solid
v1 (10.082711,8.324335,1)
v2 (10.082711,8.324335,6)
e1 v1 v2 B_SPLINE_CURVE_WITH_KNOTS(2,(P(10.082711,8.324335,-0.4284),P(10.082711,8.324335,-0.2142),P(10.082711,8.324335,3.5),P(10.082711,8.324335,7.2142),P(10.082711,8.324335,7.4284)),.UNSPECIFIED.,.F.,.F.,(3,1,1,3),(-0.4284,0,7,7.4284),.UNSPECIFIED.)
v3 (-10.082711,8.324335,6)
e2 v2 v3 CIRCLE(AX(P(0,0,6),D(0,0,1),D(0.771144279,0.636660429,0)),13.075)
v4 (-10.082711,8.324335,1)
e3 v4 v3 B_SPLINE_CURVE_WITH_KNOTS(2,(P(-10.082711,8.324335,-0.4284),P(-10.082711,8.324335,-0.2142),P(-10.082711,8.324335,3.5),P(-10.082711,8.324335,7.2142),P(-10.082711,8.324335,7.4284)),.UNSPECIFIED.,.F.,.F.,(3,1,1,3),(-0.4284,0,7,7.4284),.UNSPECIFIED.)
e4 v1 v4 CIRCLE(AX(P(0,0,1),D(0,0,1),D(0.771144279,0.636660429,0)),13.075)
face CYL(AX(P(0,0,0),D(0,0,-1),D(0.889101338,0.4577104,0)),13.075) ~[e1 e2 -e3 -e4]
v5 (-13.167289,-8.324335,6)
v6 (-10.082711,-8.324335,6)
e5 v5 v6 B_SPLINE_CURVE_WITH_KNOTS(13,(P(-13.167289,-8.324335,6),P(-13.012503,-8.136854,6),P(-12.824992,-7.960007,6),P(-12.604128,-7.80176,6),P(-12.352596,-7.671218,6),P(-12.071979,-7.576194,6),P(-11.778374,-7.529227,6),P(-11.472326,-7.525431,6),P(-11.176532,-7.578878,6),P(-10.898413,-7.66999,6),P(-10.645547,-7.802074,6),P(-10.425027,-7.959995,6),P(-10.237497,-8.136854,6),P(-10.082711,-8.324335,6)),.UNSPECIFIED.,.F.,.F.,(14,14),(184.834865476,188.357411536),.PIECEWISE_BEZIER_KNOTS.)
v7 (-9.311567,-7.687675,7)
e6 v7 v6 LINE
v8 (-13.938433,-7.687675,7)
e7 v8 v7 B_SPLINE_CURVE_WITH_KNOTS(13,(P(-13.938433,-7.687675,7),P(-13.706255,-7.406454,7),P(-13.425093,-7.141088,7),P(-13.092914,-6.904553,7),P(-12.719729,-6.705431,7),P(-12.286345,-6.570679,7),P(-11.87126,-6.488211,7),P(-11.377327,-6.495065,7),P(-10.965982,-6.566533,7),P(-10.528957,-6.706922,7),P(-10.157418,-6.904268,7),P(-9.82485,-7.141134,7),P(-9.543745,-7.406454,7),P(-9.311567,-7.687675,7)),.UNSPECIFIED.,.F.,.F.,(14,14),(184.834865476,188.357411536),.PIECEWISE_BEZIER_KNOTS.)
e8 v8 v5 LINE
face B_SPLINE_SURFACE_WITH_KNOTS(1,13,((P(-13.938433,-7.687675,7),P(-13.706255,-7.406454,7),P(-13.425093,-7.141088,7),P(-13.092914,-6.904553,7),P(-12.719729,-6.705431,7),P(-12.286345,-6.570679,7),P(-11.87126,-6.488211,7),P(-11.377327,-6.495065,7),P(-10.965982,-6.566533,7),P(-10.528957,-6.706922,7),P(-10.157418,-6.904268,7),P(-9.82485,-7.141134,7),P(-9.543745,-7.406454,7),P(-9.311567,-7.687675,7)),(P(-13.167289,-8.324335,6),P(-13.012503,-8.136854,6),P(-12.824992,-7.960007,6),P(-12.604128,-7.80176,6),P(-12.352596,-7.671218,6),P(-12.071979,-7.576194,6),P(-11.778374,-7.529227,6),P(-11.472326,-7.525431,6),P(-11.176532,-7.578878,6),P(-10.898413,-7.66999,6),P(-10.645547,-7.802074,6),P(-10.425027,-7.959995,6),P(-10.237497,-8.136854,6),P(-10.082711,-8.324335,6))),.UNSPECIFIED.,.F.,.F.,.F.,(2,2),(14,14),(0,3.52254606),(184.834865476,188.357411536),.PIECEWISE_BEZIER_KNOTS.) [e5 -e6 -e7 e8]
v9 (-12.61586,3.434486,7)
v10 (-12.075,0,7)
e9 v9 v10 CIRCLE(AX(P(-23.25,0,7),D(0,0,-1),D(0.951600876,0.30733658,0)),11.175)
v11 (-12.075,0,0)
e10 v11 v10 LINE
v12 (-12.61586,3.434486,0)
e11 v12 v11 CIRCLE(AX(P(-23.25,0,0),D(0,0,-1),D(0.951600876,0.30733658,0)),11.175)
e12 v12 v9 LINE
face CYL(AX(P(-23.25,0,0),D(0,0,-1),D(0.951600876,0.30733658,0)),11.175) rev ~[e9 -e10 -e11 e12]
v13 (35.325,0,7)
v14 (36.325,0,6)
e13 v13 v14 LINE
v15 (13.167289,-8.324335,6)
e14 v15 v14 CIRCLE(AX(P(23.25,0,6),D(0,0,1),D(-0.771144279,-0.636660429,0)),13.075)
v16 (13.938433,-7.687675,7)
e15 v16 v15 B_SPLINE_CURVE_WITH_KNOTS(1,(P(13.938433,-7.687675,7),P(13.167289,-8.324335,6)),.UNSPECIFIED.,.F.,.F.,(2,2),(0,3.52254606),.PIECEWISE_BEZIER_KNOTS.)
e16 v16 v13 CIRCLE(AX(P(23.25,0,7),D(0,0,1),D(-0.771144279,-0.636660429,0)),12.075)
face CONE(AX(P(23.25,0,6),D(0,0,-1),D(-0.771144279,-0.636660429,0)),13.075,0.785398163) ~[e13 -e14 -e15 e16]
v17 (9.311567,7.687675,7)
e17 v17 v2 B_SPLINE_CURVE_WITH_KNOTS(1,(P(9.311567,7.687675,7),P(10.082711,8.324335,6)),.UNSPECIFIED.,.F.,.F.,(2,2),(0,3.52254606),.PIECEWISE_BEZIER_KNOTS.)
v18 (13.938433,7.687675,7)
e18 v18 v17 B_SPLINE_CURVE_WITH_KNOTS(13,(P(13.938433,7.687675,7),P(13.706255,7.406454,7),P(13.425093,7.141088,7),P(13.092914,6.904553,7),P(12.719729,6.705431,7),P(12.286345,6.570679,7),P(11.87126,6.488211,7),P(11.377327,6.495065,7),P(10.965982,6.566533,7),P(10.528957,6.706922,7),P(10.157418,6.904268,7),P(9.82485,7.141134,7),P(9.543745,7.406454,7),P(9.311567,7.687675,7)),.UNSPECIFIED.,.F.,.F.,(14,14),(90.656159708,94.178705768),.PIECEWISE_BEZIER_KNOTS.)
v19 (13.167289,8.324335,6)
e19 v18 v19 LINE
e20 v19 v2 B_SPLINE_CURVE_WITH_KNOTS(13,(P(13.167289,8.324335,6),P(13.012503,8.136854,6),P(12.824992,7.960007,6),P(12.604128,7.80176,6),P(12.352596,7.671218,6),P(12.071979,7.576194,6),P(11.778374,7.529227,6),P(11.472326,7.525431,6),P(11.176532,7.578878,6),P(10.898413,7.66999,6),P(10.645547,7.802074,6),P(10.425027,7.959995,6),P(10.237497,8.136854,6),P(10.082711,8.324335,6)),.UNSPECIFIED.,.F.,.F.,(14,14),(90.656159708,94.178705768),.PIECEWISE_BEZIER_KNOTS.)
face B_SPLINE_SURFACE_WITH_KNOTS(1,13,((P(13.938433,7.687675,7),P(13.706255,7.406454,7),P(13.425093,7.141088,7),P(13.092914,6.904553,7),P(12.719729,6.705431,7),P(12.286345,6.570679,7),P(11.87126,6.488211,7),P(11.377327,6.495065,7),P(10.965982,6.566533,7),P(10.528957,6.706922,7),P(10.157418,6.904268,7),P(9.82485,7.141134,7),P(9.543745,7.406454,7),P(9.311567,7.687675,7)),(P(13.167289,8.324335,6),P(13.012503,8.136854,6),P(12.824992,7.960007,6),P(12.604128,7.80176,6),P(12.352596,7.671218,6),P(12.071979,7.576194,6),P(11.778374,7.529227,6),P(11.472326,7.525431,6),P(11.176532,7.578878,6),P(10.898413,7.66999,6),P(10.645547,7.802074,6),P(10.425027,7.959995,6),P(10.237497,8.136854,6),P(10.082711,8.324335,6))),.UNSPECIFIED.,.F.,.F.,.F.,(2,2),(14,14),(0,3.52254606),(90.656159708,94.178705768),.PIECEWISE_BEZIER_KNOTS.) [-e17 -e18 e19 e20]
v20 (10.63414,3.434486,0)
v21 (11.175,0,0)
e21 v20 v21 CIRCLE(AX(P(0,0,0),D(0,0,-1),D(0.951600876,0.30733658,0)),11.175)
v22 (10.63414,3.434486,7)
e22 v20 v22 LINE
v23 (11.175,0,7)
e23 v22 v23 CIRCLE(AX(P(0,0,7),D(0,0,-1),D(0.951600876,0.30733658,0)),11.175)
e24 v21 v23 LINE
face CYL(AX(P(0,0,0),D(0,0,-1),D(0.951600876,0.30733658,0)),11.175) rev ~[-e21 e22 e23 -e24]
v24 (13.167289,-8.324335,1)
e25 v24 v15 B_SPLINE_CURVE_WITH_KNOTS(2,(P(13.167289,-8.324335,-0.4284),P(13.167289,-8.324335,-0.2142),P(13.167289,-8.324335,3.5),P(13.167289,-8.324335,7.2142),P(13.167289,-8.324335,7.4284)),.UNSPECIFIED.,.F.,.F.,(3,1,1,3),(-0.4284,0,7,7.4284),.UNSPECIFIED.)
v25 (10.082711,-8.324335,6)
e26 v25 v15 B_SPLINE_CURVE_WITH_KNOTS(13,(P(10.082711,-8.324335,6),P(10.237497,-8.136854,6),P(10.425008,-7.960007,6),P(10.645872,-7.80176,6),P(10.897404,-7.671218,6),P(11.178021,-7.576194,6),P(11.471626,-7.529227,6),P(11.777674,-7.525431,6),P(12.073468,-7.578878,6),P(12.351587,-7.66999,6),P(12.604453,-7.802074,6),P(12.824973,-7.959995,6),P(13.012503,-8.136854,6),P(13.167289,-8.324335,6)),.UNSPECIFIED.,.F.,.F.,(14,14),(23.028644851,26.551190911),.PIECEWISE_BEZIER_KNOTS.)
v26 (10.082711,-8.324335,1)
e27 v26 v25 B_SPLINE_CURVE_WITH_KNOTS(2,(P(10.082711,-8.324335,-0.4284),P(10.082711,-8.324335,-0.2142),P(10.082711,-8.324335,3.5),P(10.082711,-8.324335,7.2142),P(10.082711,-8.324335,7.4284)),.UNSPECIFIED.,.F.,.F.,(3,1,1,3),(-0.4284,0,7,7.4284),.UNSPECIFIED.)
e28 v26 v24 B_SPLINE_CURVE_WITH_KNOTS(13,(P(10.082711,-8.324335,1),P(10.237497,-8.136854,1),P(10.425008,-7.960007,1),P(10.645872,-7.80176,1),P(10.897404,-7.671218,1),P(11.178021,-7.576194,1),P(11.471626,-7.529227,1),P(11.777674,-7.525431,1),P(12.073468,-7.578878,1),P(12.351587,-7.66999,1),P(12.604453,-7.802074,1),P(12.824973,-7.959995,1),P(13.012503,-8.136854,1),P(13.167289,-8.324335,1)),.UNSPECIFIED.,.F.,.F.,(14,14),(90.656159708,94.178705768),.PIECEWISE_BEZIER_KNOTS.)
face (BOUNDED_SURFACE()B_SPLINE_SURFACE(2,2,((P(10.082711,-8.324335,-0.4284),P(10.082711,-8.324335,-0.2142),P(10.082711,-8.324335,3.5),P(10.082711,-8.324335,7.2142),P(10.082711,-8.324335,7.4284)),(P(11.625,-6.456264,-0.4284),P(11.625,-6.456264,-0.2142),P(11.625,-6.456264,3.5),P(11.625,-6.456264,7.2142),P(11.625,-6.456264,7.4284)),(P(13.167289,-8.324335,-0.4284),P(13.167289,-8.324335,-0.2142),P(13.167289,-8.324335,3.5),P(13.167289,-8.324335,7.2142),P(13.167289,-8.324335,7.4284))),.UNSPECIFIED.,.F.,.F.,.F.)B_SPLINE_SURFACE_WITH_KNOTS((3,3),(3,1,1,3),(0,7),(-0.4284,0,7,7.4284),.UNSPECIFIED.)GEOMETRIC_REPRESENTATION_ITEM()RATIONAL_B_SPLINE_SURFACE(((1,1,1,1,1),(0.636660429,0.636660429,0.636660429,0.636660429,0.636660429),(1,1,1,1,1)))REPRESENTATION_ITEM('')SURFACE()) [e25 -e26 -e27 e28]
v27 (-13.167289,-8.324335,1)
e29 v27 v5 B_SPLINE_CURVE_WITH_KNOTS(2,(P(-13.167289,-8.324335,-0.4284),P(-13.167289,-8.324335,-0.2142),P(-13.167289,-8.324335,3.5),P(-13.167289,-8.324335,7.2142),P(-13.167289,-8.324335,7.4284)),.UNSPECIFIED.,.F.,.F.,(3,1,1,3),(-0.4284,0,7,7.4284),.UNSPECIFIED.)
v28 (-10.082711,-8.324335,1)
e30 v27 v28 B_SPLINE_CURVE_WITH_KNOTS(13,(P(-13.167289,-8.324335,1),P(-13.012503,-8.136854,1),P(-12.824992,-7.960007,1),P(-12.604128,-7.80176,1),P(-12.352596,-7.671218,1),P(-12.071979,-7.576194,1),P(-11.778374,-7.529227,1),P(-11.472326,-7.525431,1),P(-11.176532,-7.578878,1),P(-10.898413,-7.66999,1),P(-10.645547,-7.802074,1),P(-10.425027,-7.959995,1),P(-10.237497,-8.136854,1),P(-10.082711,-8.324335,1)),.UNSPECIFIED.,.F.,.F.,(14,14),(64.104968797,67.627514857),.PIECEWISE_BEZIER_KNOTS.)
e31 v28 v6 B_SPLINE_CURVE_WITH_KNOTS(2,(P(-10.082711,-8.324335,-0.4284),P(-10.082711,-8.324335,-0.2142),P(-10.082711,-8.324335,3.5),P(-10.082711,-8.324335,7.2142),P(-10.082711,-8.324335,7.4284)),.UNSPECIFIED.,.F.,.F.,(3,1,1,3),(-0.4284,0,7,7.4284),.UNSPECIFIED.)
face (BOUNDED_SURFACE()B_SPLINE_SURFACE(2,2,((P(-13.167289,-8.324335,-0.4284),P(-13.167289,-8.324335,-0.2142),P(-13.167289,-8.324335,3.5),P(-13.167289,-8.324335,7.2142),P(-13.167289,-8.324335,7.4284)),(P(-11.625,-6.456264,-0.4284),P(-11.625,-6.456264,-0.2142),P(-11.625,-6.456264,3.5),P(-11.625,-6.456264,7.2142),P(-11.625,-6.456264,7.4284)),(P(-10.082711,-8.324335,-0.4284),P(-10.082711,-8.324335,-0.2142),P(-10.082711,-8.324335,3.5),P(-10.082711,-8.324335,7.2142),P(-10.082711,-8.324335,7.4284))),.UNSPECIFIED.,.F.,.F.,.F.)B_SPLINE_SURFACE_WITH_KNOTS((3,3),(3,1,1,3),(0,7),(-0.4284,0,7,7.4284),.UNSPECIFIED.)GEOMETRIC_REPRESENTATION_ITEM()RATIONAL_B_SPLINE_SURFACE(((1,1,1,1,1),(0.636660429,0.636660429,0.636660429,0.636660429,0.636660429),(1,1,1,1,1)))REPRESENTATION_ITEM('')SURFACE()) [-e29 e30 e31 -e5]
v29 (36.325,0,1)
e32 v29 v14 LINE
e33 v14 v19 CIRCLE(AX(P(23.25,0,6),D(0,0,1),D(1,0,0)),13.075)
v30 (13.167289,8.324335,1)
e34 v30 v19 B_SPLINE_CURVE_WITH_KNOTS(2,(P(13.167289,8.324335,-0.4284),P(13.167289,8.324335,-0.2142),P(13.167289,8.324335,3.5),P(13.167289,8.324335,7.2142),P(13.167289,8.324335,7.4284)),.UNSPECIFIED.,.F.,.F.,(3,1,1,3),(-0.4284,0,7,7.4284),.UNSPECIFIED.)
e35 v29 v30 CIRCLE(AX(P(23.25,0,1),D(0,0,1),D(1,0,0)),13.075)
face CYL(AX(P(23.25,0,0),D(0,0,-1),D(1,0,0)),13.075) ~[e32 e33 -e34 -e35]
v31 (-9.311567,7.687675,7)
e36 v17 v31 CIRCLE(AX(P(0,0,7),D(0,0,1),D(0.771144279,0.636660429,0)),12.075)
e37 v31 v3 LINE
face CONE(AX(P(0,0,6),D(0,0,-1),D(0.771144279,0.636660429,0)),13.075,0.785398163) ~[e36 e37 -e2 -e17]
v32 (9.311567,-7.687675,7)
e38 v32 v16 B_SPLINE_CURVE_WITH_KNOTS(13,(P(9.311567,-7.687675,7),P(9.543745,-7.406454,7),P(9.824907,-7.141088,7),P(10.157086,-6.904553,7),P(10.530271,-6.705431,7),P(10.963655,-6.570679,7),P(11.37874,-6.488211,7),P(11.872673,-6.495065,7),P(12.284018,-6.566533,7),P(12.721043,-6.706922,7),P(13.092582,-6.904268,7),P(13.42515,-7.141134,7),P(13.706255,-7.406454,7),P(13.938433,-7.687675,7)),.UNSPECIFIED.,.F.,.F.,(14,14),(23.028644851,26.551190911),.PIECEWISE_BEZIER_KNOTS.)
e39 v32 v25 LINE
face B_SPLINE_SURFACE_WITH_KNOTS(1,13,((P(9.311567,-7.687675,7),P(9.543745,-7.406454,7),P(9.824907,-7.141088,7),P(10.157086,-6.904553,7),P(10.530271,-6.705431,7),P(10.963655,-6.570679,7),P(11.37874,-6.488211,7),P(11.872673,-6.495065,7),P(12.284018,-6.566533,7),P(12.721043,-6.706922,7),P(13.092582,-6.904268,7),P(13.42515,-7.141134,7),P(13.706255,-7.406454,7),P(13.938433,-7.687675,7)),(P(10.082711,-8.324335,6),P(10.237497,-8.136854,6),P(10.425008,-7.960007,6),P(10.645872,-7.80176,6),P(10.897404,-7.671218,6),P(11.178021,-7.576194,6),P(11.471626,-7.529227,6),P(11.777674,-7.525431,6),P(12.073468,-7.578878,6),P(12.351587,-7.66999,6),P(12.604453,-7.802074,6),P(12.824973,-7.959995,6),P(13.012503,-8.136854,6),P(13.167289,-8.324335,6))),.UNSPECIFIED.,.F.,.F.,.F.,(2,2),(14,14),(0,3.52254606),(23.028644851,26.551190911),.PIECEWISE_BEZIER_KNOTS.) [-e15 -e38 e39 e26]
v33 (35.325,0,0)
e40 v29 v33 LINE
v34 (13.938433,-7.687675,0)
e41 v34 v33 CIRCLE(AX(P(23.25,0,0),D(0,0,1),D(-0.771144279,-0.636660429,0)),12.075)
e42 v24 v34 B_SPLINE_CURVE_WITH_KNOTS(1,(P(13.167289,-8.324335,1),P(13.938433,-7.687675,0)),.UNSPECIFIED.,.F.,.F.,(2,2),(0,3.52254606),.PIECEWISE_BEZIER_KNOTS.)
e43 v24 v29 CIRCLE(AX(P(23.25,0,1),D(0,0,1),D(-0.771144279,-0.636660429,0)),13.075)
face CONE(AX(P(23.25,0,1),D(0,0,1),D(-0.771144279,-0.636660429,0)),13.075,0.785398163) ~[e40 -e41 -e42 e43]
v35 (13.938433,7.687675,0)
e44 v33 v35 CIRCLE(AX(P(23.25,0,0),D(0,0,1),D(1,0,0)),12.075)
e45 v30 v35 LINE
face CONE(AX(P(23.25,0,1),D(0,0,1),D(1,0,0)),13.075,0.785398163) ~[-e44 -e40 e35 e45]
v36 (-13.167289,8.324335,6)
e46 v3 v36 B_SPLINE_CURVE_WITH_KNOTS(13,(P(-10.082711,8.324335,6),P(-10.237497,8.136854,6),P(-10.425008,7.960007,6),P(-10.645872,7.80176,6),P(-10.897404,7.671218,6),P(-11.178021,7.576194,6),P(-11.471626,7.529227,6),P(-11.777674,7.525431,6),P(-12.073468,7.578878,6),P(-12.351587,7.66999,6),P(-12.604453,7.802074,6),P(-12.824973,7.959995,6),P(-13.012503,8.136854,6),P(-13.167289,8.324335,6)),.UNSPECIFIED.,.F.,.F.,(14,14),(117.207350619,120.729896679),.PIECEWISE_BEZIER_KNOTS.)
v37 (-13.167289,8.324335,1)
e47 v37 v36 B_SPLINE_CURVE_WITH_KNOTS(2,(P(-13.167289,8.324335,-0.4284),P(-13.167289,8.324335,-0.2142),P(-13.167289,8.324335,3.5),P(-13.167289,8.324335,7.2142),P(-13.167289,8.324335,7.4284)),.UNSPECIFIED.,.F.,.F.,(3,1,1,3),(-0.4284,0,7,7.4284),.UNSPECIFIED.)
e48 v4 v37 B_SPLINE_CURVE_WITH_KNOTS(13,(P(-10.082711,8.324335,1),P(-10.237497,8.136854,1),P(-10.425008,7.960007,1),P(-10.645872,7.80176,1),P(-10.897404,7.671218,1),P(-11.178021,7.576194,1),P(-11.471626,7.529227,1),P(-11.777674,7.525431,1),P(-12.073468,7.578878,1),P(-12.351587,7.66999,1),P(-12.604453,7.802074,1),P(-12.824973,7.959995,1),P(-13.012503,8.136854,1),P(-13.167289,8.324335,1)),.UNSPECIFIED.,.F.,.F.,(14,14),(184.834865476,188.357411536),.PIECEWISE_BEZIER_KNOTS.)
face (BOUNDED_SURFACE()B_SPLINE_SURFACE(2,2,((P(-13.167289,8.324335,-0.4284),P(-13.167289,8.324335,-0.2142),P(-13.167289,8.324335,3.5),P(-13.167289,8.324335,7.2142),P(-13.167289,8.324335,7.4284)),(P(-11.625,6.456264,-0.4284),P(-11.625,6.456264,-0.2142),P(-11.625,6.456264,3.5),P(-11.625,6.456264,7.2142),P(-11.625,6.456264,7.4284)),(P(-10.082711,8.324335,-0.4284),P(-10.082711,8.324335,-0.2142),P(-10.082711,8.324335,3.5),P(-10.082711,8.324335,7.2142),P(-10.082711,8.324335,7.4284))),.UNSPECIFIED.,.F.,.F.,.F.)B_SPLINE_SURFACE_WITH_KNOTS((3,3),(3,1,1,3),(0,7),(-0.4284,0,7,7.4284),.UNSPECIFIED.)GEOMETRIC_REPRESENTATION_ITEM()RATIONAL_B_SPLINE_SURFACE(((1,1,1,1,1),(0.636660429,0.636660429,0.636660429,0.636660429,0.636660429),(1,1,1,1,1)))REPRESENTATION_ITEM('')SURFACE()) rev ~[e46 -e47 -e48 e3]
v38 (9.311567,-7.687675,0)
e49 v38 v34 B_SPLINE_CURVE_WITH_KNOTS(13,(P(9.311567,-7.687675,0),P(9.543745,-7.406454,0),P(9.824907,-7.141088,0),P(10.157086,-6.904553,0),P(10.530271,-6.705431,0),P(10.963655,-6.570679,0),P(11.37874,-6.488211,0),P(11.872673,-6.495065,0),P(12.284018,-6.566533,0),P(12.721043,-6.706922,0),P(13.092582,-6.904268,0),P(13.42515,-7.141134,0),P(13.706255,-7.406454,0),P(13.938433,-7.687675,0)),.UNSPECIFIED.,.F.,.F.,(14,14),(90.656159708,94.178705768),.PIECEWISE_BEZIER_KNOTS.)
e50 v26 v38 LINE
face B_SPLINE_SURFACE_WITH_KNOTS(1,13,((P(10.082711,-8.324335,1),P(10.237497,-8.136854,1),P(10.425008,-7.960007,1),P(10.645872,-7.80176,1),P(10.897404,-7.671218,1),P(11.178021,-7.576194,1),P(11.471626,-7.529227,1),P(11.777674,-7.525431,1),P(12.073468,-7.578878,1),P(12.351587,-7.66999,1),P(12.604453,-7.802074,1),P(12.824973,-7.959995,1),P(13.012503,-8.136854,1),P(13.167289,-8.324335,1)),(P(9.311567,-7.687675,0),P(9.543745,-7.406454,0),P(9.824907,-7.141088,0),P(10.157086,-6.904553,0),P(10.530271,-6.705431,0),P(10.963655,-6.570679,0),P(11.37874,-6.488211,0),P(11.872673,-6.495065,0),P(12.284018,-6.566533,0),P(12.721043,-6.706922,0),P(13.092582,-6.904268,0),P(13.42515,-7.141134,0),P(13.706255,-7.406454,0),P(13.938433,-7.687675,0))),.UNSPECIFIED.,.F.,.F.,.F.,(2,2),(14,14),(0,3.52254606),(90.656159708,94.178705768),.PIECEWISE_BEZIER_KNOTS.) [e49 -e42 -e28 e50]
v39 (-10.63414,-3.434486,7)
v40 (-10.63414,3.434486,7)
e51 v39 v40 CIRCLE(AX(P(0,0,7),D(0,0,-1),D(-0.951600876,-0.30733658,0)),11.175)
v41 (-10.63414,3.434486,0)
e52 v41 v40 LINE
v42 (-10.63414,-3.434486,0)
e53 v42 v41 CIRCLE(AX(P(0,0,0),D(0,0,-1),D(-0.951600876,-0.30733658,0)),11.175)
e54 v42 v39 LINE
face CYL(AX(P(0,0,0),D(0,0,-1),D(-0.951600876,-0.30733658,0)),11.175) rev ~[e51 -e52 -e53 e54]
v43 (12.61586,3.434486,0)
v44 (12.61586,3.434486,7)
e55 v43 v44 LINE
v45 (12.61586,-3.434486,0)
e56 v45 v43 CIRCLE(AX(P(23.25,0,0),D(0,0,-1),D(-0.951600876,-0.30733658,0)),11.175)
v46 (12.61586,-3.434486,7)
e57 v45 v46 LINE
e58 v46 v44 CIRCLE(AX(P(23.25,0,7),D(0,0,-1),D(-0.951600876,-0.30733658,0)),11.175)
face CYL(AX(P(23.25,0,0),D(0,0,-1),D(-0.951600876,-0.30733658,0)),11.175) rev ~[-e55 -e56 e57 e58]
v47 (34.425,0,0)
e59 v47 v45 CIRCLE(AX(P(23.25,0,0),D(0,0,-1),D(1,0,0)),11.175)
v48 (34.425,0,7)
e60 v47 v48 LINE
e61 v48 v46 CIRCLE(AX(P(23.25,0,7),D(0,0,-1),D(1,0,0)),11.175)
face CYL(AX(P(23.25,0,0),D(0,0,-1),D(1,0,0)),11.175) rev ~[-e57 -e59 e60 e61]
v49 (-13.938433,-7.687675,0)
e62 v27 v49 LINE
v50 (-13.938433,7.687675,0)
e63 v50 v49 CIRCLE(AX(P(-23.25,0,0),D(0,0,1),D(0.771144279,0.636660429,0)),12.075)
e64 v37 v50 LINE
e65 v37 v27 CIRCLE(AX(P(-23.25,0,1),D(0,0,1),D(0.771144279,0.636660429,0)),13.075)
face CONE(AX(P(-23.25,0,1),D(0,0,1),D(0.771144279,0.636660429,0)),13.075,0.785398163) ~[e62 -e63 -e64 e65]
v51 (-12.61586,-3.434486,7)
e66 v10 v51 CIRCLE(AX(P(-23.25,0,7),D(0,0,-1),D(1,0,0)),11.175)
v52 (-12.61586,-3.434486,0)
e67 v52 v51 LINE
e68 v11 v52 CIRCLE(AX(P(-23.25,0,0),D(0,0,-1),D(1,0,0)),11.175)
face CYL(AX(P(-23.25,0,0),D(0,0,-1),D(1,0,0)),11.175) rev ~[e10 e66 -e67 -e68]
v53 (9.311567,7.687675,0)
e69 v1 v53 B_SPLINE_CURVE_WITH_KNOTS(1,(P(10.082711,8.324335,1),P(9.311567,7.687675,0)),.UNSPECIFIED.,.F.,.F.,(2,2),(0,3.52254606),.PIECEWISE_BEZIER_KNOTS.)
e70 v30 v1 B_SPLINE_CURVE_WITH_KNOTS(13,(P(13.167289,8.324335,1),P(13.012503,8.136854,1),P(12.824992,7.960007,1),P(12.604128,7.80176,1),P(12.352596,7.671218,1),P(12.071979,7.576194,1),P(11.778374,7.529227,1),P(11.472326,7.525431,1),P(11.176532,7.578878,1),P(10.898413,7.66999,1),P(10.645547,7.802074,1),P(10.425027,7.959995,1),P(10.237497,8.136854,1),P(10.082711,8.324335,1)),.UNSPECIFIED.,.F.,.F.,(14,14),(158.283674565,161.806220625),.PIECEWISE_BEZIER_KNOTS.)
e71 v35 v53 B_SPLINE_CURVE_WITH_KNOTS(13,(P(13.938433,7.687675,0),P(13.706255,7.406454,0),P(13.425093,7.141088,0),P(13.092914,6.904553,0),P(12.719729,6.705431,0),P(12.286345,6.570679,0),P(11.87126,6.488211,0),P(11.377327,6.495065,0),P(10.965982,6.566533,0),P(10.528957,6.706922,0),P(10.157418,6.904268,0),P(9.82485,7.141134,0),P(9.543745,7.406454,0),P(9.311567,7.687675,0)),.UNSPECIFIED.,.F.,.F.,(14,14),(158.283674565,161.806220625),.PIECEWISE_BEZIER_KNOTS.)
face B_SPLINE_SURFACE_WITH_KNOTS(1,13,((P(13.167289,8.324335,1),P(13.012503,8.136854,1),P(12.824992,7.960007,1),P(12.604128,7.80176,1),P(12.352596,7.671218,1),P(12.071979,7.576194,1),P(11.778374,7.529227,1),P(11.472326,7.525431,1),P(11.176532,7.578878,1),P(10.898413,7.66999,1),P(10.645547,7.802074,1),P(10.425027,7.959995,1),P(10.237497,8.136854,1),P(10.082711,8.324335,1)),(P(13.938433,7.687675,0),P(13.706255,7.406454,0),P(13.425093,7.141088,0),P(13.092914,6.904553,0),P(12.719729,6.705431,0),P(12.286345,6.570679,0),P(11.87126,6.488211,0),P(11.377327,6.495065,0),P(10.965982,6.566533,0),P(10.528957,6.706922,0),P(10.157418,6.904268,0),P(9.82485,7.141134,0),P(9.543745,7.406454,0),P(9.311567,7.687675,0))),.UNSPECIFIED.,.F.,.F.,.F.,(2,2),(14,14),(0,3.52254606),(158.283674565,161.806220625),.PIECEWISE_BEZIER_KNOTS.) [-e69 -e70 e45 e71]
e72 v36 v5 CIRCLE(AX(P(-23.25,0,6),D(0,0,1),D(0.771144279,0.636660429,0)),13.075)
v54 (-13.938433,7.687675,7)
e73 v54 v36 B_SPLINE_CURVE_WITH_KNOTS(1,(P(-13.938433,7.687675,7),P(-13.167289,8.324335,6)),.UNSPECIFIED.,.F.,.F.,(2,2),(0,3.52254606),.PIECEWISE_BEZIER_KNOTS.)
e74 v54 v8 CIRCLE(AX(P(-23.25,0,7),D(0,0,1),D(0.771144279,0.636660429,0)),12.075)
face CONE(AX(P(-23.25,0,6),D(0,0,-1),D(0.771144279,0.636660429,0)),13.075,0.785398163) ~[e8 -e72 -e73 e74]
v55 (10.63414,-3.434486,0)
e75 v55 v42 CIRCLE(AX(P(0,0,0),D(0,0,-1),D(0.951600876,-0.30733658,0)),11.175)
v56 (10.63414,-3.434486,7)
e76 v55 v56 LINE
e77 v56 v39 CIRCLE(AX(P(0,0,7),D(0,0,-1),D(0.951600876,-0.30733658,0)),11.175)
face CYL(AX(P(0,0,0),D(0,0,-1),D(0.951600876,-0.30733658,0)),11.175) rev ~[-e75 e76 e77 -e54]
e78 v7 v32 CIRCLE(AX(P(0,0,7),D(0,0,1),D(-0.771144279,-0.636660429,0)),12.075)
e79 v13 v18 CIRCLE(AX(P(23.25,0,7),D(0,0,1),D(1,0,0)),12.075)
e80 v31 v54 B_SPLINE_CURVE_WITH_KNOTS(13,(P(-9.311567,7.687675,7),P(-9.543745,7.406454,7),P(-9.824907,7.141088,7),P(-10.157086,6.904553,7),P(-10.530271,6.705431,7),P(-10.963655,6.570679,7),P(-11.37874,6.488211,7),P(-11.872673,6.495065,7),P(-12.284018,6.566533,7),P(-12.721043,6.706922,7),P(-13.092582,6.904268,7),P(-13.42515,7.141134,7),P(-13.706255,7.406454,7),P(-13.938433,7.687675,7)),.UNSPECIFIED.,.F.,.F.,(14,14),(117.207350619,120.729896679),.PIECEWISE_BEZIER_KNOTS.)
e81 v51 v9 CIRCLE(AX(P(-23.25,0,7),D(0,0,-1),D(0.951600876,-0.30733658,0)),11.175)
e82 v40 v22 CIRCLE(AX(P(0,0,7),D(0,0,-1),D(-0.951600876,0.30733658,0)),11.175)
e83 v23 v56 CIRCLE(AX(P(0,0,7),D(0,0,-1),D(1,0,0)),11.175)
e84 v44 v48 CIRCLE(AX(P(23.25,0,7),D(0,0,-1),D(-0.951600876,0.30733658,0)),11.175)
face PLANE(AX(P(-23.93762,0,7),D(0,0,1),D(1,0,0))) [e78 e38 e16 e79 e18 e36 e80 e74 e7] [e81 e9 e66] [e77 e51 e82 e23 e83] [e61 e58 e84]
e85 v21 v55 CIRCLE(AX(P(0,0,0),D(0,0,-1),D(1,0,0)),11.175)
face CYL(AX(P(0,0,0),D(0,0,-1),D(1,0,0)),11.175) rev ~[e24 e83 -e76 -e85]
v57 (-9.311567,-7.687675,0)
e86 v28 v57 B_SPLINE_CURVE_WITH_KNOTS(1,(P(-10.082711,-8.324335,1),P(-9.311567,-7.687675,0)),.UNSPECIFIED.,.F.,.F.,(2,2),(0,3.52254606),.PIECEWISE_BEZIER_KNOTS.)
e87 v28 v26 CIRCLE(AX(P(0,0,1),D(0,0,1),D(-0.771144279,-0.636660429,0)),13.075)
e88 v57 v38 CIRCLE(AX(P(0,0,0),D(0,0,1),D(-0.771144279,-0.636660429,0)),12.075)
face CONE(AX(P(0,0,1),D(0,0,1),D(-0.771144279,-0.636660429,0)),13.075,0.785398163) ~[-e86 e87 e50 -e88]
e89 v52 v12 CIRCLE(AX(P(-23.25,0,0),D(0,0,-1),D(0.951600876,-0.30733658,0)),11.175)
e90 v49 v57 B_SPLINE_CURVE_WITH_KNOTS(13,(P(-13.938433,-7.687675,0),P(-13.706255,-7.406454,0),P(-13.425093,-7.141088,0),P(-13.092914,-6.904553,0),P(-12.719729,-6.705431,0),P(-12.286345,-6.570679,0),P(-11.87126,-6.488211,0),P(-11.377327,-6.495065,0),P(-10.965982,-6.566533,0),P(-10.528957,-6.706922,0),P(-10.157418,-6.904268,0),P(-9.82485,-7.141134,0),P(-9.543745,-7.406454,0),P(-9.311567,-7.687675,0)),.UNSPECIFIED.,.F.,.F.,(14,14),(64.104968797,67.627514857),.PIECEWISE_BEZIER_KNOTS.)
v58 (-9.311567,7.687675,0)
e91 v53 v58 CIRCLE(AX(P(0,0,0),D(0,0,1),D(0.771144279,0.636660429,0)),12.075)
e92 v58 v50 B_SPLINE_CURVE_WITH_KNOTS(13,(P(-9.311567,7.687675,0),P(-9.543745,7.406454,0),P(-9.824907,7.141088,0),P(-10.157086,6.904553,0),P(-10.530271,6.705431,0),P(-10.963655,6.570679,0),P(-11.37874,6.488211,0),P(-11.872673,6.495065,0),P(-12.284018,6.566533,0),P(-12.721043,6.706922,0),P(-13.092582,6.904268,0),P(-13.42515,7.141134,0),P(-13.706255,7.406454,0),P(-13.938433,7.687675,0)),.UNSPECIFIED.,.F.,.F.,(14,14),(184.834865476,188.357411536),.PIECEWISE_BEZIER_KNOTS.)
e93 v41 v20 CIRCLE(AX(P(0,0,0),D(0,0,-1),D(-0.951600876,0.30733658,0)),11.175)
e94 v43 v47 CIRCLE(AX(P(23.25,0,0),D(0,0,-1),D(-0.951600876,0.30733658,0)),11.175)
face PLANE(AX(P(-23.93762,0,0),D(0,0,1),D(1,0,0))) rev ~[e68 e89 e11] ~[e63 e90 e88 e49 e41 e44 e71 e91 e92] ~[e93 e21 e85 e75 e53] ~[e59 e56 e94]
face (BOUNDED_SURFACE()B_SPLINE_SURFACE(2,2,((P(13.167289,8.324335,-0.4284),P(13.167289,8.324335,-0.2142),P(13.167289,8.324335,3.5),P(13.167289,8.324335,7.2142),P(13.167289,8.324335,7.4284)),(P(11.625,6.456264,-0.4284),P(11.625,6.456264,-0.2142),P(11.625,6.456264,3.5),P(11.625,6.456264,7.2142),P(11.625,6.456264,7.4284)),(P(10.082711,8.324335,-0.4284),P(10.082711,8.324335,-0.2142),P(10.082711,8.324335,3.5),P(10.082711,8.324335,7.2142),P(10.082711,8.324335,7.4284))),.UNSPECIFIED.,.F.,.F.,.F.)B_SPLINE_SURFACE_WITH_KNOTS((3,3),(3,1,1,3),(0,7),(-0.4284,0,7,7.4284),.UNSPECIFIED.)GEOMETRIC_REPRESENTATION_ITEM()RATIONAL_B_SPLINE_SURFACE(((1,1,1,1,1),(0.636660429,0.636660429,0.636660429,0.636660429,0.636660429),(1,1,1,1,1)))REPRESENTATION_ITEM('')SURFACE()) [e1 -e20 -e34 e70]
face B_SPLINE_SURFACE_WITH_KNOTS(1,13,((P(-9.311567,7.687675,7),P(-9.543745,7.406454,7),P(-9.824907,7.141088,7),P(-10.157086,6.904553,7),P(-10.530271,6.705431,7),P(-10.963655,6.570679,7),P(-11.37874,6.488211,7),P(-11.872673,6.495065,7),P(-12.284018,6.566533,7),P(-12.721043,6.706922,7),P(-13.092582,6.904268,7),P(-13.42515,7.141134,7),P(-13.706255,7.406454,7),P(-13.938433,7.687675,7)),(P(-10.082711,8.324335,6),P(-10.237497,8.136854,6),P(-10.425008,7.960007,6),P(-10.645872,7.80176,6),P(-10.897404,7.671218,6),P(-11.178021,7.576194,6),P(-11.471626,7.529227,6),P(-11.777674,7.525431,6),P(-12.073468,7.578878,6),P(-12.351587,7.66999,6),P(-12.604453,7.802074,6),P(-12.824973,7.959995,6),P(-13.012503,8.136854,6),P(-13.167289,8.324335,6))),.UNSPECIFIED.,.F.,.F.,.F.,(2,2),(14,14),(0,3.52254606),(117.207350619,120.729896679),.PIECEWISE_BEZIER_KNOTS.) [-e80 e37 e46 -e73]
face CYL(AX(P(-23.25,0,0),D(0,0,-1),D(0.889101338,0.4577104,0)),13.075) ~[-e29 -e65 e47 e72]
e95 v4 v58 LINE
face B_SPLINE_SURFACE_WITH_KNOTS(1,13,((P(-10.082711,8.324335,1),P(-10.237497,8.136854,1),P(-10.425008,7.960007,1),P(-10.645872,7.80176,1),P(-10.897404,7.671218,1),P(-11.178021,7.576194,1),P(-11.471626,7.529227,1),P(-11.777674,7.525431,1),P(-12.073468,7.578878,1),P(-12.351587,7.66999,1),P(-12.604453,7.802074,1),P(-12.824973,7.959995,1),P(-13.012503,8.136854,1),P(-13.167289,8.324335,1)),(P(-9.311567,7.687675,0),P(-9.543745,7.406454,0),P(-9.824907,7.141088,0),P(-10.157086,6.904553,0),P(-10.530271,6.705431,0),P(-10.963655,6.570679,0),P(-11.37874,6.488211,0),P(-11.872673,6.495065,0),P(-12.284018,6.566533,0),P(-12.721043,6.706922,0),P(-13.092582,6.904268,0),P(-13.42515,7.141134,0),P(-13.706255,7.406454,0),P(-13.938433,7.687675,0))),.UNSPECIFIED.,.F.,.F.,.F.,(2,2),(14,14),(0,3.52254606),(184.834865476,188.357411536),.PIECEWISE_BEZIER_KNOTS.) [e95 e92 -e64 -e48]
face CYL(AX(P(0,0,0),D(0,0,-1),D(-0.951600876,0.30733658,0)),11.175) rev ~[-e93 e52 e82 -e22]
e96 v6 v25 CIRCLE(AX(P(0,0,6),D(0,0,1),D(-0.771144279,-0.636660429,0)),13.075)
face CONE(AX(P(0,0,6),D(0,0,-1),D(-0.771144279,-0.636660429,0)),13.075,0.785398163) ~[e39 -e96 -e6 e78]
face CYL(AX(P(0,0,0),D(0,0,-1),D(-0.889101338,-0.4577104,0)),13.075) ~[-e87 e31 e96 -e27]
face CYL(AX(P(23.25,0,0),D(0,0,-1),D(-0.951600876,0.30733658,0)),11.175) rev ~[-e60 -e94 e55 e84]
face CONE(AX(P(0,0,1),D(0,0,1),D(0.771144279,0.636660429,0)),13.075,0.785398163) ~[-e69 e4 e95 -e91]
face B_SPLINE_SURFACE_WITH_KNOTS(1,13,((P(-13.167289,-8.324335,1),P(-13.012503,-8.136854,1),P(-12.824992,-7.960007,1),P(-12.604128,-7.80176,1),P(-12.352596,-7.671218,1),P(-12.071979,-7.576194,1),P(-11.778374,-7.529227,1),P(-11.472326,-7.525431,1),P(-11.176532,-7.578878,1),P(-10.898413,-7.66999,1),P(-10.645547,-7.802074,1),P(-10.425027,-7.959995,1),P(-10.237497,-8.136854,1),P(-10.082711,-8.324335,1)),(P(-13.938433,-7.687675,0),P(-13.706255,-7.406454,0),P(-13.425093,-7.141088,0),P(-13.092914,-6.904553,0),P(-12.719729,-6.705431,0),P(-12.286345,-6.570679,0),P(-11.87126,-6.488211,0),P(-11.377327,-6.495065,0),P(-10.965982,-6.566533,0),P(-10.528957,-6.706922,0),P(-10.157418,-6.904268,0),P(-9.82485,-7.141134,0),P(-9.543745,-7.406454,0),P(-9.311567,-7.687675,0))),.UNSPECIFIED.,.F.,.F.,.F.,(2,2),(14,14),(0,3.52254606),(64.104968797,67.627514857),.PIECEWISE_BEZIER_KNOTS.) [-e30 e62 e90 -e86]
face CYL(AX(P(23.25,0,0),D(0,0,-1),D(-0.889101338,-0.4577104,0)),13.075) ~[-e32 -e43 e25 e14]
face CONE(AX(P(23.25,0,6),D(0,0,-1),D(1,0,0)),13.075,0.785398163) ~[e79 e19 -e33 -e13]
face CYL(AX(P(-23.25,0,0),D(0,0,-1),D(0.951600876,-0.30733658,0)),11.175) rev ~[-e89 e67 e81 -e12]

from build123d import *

# Parameters (mm, degrees)
F1_DEPTH = 7
F2_R     = 2
F3_SIZE  = 1


with BuildPart() as f1:
    # F0 (on Top) → F1 (new body)
    with BuildSketch(Plane.XY):
        with BuildLine():
            ThreePointArc((-12.6158602151, 3.4344862839), (-12.1873110001, 4.7355121779), (-11.625, 5.9845634761))
            ThreePointArc((-11.625, 5.9845634761), (-36.325, 0), (-11.625, -5.9845634761))
            ThreePointArc((-11.625, -5.9845634761), (-12.1873110001, -4.7355121779), (-12.6158602151, -3.4344862839))
            ThreePointArc((-12.6158602151, -3.4344862839), (-34.425, 0), (-12.6158602151, 3.4344862839))
        make_face()
        with BuildLine():
            ThreePointArc((-10.6341397849, 3.4344862839), (0, 11.175), (10.6341397849, 3.4344862839))
            ThreePointArc((10.6341397849, 3.4344862839), (11.0626889999, 4.7355121779), (11.625, 5.9845634761))
            ThreePointArc((11.625, 5.9845634761), (0, 13.075), (-11.625, 5.9845634761))
            ThreePointArc((-11.625, 5.9845634761), (-11.0626889999, 4.7355121779), (-10.6341397849, 3.4344862839))
        make_face()
        with BuildLine():
            ThreePointArc((36.325, 0), (26.3288593667, 12.7073305615), (11.625, 5.9845634761))
            ThreePointArc((11.625, 5.9845634761), (12.1873110001, 4.7355121779), (12.6158602151, 3.4344862839))
            ThreePointArc((12.6158602151, 3.4344862839), (24.9884062965, 11.0389568596), (34.425, 0))
            ThreePointArc((34.425, 0), (24.9884062965, -11.0389568596), (12.6158602151, -3.4344862839))
            ThreePointArc((12.6158602151, -3.4344862839), (12.1873110001, -4.7355121779), (11.625, -5.9845634761))
            ThreePointArc((11.625, -5.9845634761), (26.3288593667, -12.7073305615), (36.325, 0))
        make_face()
        with BuildLine():
            ThreePointArc((11.625, -5.9845634761), (11.0626889999, -4.7355121779), (10.6341397849, -3.4344862839))
            ThreePointArc((10.6341397849, -3.4344862839), (0, -11.175), (-10.6341397849, -3.4344862839))
            ThreePointArc((-10.6341397849, -3.4344862839), (-11.0626889999, -4.7355121779), (-11.625, -5.9845634761))
            ThreePointArc((-11.625, -5.9845634761), (0, -13.075), (11.625, -5.9845634761))
        make_face()
        with BuildLine():
            ThreePointArc((10.6341397849, 3.4344862839), (11.0389568596, 1.7384062965), (11.175, 0))
            ThreePointArc((11.175, 0), (11.0389568596, -1.7384062965), (10.6341397849, -3.4344862839))
            ThreePointArc((10.6341397849, -3.4344862839), (11.0626889999, -4.7355121779), (11.625, -5.9845634761))
            ThreePointArc((11.625, -5.9845634761), (12.1873110001, -4.7355121779), (12.6158602151, -3.4344862839))
            ThreePointArc((12.6158602151, -3.4344862839), (12.075, 0), (12.6158602151, 3.4344862839))
            ThreePointArc((12.6158602151, 3.4344862839), (12.1873110001, 4.7355121779), (11.625, 5.9845634761))
            ThreePointArc((11.625, 5.9845634761), (11.0626889999, 4.7355121779), (10.6341397849, 3.4344862839))
        make_face()
        with BuildLine():
            ThreePointArc((-10.6341397849, -3.4344862839), (-11.175, 0), (-10.6341397849, 3.4344862839))
            ThreePointArc((-10.6341397849, 3.4344862839), (-11.0626889999, 4.7355121779), (-11.625, 5.9845634761))
            ThreePointArc((-11.625, 5.9845634761), (-12.1873110001, 4.7355121779), (-12.6158602151, 3.4344862839))
            ThreePointArc((-12.6158602151, 3.4344862839), (-12.2110431404, 1.7384062965), (-12.075, 0))
            ThreePointArc((-12.075, 0), (-12.2110431404, -1.7384062965), (-12.6158602151, -3.4344862839))
            ThreePointArc((-12.6158602151, -3.4344862839), (-12.1873110001, -4.7355121779), (-11.625, -5.9845634761))
            ThreePointArc((-11.625, -5.9845634761), (-11.0626889999, -4.7355121779), (-10.6341397849, -3.4344862839))
        make_face()
    extrude(amount=F1_DEPTH)

    # F2
    f2_edges = [f1.edges().sort_by_distance(p)[0] for p in [
        (-11.625, -5.984563, 3.5),
        (11.625, -5.984563, 3.5),
        (-11.625, 5.984563, 3.5),
        (11.625, 5.984563, 3.5),
    ]]
    fillet(f2_edges, radius=F2_R)

    # F3
    f3_edges = [f1.edges().sort_by_distance(p)[0] for p in [
        (0, -13.075, 7),
        (-36.325, 0, 0),
    ]]
    chamfer(f3_edges, length=F3_SIZE)


solid = f1.part
